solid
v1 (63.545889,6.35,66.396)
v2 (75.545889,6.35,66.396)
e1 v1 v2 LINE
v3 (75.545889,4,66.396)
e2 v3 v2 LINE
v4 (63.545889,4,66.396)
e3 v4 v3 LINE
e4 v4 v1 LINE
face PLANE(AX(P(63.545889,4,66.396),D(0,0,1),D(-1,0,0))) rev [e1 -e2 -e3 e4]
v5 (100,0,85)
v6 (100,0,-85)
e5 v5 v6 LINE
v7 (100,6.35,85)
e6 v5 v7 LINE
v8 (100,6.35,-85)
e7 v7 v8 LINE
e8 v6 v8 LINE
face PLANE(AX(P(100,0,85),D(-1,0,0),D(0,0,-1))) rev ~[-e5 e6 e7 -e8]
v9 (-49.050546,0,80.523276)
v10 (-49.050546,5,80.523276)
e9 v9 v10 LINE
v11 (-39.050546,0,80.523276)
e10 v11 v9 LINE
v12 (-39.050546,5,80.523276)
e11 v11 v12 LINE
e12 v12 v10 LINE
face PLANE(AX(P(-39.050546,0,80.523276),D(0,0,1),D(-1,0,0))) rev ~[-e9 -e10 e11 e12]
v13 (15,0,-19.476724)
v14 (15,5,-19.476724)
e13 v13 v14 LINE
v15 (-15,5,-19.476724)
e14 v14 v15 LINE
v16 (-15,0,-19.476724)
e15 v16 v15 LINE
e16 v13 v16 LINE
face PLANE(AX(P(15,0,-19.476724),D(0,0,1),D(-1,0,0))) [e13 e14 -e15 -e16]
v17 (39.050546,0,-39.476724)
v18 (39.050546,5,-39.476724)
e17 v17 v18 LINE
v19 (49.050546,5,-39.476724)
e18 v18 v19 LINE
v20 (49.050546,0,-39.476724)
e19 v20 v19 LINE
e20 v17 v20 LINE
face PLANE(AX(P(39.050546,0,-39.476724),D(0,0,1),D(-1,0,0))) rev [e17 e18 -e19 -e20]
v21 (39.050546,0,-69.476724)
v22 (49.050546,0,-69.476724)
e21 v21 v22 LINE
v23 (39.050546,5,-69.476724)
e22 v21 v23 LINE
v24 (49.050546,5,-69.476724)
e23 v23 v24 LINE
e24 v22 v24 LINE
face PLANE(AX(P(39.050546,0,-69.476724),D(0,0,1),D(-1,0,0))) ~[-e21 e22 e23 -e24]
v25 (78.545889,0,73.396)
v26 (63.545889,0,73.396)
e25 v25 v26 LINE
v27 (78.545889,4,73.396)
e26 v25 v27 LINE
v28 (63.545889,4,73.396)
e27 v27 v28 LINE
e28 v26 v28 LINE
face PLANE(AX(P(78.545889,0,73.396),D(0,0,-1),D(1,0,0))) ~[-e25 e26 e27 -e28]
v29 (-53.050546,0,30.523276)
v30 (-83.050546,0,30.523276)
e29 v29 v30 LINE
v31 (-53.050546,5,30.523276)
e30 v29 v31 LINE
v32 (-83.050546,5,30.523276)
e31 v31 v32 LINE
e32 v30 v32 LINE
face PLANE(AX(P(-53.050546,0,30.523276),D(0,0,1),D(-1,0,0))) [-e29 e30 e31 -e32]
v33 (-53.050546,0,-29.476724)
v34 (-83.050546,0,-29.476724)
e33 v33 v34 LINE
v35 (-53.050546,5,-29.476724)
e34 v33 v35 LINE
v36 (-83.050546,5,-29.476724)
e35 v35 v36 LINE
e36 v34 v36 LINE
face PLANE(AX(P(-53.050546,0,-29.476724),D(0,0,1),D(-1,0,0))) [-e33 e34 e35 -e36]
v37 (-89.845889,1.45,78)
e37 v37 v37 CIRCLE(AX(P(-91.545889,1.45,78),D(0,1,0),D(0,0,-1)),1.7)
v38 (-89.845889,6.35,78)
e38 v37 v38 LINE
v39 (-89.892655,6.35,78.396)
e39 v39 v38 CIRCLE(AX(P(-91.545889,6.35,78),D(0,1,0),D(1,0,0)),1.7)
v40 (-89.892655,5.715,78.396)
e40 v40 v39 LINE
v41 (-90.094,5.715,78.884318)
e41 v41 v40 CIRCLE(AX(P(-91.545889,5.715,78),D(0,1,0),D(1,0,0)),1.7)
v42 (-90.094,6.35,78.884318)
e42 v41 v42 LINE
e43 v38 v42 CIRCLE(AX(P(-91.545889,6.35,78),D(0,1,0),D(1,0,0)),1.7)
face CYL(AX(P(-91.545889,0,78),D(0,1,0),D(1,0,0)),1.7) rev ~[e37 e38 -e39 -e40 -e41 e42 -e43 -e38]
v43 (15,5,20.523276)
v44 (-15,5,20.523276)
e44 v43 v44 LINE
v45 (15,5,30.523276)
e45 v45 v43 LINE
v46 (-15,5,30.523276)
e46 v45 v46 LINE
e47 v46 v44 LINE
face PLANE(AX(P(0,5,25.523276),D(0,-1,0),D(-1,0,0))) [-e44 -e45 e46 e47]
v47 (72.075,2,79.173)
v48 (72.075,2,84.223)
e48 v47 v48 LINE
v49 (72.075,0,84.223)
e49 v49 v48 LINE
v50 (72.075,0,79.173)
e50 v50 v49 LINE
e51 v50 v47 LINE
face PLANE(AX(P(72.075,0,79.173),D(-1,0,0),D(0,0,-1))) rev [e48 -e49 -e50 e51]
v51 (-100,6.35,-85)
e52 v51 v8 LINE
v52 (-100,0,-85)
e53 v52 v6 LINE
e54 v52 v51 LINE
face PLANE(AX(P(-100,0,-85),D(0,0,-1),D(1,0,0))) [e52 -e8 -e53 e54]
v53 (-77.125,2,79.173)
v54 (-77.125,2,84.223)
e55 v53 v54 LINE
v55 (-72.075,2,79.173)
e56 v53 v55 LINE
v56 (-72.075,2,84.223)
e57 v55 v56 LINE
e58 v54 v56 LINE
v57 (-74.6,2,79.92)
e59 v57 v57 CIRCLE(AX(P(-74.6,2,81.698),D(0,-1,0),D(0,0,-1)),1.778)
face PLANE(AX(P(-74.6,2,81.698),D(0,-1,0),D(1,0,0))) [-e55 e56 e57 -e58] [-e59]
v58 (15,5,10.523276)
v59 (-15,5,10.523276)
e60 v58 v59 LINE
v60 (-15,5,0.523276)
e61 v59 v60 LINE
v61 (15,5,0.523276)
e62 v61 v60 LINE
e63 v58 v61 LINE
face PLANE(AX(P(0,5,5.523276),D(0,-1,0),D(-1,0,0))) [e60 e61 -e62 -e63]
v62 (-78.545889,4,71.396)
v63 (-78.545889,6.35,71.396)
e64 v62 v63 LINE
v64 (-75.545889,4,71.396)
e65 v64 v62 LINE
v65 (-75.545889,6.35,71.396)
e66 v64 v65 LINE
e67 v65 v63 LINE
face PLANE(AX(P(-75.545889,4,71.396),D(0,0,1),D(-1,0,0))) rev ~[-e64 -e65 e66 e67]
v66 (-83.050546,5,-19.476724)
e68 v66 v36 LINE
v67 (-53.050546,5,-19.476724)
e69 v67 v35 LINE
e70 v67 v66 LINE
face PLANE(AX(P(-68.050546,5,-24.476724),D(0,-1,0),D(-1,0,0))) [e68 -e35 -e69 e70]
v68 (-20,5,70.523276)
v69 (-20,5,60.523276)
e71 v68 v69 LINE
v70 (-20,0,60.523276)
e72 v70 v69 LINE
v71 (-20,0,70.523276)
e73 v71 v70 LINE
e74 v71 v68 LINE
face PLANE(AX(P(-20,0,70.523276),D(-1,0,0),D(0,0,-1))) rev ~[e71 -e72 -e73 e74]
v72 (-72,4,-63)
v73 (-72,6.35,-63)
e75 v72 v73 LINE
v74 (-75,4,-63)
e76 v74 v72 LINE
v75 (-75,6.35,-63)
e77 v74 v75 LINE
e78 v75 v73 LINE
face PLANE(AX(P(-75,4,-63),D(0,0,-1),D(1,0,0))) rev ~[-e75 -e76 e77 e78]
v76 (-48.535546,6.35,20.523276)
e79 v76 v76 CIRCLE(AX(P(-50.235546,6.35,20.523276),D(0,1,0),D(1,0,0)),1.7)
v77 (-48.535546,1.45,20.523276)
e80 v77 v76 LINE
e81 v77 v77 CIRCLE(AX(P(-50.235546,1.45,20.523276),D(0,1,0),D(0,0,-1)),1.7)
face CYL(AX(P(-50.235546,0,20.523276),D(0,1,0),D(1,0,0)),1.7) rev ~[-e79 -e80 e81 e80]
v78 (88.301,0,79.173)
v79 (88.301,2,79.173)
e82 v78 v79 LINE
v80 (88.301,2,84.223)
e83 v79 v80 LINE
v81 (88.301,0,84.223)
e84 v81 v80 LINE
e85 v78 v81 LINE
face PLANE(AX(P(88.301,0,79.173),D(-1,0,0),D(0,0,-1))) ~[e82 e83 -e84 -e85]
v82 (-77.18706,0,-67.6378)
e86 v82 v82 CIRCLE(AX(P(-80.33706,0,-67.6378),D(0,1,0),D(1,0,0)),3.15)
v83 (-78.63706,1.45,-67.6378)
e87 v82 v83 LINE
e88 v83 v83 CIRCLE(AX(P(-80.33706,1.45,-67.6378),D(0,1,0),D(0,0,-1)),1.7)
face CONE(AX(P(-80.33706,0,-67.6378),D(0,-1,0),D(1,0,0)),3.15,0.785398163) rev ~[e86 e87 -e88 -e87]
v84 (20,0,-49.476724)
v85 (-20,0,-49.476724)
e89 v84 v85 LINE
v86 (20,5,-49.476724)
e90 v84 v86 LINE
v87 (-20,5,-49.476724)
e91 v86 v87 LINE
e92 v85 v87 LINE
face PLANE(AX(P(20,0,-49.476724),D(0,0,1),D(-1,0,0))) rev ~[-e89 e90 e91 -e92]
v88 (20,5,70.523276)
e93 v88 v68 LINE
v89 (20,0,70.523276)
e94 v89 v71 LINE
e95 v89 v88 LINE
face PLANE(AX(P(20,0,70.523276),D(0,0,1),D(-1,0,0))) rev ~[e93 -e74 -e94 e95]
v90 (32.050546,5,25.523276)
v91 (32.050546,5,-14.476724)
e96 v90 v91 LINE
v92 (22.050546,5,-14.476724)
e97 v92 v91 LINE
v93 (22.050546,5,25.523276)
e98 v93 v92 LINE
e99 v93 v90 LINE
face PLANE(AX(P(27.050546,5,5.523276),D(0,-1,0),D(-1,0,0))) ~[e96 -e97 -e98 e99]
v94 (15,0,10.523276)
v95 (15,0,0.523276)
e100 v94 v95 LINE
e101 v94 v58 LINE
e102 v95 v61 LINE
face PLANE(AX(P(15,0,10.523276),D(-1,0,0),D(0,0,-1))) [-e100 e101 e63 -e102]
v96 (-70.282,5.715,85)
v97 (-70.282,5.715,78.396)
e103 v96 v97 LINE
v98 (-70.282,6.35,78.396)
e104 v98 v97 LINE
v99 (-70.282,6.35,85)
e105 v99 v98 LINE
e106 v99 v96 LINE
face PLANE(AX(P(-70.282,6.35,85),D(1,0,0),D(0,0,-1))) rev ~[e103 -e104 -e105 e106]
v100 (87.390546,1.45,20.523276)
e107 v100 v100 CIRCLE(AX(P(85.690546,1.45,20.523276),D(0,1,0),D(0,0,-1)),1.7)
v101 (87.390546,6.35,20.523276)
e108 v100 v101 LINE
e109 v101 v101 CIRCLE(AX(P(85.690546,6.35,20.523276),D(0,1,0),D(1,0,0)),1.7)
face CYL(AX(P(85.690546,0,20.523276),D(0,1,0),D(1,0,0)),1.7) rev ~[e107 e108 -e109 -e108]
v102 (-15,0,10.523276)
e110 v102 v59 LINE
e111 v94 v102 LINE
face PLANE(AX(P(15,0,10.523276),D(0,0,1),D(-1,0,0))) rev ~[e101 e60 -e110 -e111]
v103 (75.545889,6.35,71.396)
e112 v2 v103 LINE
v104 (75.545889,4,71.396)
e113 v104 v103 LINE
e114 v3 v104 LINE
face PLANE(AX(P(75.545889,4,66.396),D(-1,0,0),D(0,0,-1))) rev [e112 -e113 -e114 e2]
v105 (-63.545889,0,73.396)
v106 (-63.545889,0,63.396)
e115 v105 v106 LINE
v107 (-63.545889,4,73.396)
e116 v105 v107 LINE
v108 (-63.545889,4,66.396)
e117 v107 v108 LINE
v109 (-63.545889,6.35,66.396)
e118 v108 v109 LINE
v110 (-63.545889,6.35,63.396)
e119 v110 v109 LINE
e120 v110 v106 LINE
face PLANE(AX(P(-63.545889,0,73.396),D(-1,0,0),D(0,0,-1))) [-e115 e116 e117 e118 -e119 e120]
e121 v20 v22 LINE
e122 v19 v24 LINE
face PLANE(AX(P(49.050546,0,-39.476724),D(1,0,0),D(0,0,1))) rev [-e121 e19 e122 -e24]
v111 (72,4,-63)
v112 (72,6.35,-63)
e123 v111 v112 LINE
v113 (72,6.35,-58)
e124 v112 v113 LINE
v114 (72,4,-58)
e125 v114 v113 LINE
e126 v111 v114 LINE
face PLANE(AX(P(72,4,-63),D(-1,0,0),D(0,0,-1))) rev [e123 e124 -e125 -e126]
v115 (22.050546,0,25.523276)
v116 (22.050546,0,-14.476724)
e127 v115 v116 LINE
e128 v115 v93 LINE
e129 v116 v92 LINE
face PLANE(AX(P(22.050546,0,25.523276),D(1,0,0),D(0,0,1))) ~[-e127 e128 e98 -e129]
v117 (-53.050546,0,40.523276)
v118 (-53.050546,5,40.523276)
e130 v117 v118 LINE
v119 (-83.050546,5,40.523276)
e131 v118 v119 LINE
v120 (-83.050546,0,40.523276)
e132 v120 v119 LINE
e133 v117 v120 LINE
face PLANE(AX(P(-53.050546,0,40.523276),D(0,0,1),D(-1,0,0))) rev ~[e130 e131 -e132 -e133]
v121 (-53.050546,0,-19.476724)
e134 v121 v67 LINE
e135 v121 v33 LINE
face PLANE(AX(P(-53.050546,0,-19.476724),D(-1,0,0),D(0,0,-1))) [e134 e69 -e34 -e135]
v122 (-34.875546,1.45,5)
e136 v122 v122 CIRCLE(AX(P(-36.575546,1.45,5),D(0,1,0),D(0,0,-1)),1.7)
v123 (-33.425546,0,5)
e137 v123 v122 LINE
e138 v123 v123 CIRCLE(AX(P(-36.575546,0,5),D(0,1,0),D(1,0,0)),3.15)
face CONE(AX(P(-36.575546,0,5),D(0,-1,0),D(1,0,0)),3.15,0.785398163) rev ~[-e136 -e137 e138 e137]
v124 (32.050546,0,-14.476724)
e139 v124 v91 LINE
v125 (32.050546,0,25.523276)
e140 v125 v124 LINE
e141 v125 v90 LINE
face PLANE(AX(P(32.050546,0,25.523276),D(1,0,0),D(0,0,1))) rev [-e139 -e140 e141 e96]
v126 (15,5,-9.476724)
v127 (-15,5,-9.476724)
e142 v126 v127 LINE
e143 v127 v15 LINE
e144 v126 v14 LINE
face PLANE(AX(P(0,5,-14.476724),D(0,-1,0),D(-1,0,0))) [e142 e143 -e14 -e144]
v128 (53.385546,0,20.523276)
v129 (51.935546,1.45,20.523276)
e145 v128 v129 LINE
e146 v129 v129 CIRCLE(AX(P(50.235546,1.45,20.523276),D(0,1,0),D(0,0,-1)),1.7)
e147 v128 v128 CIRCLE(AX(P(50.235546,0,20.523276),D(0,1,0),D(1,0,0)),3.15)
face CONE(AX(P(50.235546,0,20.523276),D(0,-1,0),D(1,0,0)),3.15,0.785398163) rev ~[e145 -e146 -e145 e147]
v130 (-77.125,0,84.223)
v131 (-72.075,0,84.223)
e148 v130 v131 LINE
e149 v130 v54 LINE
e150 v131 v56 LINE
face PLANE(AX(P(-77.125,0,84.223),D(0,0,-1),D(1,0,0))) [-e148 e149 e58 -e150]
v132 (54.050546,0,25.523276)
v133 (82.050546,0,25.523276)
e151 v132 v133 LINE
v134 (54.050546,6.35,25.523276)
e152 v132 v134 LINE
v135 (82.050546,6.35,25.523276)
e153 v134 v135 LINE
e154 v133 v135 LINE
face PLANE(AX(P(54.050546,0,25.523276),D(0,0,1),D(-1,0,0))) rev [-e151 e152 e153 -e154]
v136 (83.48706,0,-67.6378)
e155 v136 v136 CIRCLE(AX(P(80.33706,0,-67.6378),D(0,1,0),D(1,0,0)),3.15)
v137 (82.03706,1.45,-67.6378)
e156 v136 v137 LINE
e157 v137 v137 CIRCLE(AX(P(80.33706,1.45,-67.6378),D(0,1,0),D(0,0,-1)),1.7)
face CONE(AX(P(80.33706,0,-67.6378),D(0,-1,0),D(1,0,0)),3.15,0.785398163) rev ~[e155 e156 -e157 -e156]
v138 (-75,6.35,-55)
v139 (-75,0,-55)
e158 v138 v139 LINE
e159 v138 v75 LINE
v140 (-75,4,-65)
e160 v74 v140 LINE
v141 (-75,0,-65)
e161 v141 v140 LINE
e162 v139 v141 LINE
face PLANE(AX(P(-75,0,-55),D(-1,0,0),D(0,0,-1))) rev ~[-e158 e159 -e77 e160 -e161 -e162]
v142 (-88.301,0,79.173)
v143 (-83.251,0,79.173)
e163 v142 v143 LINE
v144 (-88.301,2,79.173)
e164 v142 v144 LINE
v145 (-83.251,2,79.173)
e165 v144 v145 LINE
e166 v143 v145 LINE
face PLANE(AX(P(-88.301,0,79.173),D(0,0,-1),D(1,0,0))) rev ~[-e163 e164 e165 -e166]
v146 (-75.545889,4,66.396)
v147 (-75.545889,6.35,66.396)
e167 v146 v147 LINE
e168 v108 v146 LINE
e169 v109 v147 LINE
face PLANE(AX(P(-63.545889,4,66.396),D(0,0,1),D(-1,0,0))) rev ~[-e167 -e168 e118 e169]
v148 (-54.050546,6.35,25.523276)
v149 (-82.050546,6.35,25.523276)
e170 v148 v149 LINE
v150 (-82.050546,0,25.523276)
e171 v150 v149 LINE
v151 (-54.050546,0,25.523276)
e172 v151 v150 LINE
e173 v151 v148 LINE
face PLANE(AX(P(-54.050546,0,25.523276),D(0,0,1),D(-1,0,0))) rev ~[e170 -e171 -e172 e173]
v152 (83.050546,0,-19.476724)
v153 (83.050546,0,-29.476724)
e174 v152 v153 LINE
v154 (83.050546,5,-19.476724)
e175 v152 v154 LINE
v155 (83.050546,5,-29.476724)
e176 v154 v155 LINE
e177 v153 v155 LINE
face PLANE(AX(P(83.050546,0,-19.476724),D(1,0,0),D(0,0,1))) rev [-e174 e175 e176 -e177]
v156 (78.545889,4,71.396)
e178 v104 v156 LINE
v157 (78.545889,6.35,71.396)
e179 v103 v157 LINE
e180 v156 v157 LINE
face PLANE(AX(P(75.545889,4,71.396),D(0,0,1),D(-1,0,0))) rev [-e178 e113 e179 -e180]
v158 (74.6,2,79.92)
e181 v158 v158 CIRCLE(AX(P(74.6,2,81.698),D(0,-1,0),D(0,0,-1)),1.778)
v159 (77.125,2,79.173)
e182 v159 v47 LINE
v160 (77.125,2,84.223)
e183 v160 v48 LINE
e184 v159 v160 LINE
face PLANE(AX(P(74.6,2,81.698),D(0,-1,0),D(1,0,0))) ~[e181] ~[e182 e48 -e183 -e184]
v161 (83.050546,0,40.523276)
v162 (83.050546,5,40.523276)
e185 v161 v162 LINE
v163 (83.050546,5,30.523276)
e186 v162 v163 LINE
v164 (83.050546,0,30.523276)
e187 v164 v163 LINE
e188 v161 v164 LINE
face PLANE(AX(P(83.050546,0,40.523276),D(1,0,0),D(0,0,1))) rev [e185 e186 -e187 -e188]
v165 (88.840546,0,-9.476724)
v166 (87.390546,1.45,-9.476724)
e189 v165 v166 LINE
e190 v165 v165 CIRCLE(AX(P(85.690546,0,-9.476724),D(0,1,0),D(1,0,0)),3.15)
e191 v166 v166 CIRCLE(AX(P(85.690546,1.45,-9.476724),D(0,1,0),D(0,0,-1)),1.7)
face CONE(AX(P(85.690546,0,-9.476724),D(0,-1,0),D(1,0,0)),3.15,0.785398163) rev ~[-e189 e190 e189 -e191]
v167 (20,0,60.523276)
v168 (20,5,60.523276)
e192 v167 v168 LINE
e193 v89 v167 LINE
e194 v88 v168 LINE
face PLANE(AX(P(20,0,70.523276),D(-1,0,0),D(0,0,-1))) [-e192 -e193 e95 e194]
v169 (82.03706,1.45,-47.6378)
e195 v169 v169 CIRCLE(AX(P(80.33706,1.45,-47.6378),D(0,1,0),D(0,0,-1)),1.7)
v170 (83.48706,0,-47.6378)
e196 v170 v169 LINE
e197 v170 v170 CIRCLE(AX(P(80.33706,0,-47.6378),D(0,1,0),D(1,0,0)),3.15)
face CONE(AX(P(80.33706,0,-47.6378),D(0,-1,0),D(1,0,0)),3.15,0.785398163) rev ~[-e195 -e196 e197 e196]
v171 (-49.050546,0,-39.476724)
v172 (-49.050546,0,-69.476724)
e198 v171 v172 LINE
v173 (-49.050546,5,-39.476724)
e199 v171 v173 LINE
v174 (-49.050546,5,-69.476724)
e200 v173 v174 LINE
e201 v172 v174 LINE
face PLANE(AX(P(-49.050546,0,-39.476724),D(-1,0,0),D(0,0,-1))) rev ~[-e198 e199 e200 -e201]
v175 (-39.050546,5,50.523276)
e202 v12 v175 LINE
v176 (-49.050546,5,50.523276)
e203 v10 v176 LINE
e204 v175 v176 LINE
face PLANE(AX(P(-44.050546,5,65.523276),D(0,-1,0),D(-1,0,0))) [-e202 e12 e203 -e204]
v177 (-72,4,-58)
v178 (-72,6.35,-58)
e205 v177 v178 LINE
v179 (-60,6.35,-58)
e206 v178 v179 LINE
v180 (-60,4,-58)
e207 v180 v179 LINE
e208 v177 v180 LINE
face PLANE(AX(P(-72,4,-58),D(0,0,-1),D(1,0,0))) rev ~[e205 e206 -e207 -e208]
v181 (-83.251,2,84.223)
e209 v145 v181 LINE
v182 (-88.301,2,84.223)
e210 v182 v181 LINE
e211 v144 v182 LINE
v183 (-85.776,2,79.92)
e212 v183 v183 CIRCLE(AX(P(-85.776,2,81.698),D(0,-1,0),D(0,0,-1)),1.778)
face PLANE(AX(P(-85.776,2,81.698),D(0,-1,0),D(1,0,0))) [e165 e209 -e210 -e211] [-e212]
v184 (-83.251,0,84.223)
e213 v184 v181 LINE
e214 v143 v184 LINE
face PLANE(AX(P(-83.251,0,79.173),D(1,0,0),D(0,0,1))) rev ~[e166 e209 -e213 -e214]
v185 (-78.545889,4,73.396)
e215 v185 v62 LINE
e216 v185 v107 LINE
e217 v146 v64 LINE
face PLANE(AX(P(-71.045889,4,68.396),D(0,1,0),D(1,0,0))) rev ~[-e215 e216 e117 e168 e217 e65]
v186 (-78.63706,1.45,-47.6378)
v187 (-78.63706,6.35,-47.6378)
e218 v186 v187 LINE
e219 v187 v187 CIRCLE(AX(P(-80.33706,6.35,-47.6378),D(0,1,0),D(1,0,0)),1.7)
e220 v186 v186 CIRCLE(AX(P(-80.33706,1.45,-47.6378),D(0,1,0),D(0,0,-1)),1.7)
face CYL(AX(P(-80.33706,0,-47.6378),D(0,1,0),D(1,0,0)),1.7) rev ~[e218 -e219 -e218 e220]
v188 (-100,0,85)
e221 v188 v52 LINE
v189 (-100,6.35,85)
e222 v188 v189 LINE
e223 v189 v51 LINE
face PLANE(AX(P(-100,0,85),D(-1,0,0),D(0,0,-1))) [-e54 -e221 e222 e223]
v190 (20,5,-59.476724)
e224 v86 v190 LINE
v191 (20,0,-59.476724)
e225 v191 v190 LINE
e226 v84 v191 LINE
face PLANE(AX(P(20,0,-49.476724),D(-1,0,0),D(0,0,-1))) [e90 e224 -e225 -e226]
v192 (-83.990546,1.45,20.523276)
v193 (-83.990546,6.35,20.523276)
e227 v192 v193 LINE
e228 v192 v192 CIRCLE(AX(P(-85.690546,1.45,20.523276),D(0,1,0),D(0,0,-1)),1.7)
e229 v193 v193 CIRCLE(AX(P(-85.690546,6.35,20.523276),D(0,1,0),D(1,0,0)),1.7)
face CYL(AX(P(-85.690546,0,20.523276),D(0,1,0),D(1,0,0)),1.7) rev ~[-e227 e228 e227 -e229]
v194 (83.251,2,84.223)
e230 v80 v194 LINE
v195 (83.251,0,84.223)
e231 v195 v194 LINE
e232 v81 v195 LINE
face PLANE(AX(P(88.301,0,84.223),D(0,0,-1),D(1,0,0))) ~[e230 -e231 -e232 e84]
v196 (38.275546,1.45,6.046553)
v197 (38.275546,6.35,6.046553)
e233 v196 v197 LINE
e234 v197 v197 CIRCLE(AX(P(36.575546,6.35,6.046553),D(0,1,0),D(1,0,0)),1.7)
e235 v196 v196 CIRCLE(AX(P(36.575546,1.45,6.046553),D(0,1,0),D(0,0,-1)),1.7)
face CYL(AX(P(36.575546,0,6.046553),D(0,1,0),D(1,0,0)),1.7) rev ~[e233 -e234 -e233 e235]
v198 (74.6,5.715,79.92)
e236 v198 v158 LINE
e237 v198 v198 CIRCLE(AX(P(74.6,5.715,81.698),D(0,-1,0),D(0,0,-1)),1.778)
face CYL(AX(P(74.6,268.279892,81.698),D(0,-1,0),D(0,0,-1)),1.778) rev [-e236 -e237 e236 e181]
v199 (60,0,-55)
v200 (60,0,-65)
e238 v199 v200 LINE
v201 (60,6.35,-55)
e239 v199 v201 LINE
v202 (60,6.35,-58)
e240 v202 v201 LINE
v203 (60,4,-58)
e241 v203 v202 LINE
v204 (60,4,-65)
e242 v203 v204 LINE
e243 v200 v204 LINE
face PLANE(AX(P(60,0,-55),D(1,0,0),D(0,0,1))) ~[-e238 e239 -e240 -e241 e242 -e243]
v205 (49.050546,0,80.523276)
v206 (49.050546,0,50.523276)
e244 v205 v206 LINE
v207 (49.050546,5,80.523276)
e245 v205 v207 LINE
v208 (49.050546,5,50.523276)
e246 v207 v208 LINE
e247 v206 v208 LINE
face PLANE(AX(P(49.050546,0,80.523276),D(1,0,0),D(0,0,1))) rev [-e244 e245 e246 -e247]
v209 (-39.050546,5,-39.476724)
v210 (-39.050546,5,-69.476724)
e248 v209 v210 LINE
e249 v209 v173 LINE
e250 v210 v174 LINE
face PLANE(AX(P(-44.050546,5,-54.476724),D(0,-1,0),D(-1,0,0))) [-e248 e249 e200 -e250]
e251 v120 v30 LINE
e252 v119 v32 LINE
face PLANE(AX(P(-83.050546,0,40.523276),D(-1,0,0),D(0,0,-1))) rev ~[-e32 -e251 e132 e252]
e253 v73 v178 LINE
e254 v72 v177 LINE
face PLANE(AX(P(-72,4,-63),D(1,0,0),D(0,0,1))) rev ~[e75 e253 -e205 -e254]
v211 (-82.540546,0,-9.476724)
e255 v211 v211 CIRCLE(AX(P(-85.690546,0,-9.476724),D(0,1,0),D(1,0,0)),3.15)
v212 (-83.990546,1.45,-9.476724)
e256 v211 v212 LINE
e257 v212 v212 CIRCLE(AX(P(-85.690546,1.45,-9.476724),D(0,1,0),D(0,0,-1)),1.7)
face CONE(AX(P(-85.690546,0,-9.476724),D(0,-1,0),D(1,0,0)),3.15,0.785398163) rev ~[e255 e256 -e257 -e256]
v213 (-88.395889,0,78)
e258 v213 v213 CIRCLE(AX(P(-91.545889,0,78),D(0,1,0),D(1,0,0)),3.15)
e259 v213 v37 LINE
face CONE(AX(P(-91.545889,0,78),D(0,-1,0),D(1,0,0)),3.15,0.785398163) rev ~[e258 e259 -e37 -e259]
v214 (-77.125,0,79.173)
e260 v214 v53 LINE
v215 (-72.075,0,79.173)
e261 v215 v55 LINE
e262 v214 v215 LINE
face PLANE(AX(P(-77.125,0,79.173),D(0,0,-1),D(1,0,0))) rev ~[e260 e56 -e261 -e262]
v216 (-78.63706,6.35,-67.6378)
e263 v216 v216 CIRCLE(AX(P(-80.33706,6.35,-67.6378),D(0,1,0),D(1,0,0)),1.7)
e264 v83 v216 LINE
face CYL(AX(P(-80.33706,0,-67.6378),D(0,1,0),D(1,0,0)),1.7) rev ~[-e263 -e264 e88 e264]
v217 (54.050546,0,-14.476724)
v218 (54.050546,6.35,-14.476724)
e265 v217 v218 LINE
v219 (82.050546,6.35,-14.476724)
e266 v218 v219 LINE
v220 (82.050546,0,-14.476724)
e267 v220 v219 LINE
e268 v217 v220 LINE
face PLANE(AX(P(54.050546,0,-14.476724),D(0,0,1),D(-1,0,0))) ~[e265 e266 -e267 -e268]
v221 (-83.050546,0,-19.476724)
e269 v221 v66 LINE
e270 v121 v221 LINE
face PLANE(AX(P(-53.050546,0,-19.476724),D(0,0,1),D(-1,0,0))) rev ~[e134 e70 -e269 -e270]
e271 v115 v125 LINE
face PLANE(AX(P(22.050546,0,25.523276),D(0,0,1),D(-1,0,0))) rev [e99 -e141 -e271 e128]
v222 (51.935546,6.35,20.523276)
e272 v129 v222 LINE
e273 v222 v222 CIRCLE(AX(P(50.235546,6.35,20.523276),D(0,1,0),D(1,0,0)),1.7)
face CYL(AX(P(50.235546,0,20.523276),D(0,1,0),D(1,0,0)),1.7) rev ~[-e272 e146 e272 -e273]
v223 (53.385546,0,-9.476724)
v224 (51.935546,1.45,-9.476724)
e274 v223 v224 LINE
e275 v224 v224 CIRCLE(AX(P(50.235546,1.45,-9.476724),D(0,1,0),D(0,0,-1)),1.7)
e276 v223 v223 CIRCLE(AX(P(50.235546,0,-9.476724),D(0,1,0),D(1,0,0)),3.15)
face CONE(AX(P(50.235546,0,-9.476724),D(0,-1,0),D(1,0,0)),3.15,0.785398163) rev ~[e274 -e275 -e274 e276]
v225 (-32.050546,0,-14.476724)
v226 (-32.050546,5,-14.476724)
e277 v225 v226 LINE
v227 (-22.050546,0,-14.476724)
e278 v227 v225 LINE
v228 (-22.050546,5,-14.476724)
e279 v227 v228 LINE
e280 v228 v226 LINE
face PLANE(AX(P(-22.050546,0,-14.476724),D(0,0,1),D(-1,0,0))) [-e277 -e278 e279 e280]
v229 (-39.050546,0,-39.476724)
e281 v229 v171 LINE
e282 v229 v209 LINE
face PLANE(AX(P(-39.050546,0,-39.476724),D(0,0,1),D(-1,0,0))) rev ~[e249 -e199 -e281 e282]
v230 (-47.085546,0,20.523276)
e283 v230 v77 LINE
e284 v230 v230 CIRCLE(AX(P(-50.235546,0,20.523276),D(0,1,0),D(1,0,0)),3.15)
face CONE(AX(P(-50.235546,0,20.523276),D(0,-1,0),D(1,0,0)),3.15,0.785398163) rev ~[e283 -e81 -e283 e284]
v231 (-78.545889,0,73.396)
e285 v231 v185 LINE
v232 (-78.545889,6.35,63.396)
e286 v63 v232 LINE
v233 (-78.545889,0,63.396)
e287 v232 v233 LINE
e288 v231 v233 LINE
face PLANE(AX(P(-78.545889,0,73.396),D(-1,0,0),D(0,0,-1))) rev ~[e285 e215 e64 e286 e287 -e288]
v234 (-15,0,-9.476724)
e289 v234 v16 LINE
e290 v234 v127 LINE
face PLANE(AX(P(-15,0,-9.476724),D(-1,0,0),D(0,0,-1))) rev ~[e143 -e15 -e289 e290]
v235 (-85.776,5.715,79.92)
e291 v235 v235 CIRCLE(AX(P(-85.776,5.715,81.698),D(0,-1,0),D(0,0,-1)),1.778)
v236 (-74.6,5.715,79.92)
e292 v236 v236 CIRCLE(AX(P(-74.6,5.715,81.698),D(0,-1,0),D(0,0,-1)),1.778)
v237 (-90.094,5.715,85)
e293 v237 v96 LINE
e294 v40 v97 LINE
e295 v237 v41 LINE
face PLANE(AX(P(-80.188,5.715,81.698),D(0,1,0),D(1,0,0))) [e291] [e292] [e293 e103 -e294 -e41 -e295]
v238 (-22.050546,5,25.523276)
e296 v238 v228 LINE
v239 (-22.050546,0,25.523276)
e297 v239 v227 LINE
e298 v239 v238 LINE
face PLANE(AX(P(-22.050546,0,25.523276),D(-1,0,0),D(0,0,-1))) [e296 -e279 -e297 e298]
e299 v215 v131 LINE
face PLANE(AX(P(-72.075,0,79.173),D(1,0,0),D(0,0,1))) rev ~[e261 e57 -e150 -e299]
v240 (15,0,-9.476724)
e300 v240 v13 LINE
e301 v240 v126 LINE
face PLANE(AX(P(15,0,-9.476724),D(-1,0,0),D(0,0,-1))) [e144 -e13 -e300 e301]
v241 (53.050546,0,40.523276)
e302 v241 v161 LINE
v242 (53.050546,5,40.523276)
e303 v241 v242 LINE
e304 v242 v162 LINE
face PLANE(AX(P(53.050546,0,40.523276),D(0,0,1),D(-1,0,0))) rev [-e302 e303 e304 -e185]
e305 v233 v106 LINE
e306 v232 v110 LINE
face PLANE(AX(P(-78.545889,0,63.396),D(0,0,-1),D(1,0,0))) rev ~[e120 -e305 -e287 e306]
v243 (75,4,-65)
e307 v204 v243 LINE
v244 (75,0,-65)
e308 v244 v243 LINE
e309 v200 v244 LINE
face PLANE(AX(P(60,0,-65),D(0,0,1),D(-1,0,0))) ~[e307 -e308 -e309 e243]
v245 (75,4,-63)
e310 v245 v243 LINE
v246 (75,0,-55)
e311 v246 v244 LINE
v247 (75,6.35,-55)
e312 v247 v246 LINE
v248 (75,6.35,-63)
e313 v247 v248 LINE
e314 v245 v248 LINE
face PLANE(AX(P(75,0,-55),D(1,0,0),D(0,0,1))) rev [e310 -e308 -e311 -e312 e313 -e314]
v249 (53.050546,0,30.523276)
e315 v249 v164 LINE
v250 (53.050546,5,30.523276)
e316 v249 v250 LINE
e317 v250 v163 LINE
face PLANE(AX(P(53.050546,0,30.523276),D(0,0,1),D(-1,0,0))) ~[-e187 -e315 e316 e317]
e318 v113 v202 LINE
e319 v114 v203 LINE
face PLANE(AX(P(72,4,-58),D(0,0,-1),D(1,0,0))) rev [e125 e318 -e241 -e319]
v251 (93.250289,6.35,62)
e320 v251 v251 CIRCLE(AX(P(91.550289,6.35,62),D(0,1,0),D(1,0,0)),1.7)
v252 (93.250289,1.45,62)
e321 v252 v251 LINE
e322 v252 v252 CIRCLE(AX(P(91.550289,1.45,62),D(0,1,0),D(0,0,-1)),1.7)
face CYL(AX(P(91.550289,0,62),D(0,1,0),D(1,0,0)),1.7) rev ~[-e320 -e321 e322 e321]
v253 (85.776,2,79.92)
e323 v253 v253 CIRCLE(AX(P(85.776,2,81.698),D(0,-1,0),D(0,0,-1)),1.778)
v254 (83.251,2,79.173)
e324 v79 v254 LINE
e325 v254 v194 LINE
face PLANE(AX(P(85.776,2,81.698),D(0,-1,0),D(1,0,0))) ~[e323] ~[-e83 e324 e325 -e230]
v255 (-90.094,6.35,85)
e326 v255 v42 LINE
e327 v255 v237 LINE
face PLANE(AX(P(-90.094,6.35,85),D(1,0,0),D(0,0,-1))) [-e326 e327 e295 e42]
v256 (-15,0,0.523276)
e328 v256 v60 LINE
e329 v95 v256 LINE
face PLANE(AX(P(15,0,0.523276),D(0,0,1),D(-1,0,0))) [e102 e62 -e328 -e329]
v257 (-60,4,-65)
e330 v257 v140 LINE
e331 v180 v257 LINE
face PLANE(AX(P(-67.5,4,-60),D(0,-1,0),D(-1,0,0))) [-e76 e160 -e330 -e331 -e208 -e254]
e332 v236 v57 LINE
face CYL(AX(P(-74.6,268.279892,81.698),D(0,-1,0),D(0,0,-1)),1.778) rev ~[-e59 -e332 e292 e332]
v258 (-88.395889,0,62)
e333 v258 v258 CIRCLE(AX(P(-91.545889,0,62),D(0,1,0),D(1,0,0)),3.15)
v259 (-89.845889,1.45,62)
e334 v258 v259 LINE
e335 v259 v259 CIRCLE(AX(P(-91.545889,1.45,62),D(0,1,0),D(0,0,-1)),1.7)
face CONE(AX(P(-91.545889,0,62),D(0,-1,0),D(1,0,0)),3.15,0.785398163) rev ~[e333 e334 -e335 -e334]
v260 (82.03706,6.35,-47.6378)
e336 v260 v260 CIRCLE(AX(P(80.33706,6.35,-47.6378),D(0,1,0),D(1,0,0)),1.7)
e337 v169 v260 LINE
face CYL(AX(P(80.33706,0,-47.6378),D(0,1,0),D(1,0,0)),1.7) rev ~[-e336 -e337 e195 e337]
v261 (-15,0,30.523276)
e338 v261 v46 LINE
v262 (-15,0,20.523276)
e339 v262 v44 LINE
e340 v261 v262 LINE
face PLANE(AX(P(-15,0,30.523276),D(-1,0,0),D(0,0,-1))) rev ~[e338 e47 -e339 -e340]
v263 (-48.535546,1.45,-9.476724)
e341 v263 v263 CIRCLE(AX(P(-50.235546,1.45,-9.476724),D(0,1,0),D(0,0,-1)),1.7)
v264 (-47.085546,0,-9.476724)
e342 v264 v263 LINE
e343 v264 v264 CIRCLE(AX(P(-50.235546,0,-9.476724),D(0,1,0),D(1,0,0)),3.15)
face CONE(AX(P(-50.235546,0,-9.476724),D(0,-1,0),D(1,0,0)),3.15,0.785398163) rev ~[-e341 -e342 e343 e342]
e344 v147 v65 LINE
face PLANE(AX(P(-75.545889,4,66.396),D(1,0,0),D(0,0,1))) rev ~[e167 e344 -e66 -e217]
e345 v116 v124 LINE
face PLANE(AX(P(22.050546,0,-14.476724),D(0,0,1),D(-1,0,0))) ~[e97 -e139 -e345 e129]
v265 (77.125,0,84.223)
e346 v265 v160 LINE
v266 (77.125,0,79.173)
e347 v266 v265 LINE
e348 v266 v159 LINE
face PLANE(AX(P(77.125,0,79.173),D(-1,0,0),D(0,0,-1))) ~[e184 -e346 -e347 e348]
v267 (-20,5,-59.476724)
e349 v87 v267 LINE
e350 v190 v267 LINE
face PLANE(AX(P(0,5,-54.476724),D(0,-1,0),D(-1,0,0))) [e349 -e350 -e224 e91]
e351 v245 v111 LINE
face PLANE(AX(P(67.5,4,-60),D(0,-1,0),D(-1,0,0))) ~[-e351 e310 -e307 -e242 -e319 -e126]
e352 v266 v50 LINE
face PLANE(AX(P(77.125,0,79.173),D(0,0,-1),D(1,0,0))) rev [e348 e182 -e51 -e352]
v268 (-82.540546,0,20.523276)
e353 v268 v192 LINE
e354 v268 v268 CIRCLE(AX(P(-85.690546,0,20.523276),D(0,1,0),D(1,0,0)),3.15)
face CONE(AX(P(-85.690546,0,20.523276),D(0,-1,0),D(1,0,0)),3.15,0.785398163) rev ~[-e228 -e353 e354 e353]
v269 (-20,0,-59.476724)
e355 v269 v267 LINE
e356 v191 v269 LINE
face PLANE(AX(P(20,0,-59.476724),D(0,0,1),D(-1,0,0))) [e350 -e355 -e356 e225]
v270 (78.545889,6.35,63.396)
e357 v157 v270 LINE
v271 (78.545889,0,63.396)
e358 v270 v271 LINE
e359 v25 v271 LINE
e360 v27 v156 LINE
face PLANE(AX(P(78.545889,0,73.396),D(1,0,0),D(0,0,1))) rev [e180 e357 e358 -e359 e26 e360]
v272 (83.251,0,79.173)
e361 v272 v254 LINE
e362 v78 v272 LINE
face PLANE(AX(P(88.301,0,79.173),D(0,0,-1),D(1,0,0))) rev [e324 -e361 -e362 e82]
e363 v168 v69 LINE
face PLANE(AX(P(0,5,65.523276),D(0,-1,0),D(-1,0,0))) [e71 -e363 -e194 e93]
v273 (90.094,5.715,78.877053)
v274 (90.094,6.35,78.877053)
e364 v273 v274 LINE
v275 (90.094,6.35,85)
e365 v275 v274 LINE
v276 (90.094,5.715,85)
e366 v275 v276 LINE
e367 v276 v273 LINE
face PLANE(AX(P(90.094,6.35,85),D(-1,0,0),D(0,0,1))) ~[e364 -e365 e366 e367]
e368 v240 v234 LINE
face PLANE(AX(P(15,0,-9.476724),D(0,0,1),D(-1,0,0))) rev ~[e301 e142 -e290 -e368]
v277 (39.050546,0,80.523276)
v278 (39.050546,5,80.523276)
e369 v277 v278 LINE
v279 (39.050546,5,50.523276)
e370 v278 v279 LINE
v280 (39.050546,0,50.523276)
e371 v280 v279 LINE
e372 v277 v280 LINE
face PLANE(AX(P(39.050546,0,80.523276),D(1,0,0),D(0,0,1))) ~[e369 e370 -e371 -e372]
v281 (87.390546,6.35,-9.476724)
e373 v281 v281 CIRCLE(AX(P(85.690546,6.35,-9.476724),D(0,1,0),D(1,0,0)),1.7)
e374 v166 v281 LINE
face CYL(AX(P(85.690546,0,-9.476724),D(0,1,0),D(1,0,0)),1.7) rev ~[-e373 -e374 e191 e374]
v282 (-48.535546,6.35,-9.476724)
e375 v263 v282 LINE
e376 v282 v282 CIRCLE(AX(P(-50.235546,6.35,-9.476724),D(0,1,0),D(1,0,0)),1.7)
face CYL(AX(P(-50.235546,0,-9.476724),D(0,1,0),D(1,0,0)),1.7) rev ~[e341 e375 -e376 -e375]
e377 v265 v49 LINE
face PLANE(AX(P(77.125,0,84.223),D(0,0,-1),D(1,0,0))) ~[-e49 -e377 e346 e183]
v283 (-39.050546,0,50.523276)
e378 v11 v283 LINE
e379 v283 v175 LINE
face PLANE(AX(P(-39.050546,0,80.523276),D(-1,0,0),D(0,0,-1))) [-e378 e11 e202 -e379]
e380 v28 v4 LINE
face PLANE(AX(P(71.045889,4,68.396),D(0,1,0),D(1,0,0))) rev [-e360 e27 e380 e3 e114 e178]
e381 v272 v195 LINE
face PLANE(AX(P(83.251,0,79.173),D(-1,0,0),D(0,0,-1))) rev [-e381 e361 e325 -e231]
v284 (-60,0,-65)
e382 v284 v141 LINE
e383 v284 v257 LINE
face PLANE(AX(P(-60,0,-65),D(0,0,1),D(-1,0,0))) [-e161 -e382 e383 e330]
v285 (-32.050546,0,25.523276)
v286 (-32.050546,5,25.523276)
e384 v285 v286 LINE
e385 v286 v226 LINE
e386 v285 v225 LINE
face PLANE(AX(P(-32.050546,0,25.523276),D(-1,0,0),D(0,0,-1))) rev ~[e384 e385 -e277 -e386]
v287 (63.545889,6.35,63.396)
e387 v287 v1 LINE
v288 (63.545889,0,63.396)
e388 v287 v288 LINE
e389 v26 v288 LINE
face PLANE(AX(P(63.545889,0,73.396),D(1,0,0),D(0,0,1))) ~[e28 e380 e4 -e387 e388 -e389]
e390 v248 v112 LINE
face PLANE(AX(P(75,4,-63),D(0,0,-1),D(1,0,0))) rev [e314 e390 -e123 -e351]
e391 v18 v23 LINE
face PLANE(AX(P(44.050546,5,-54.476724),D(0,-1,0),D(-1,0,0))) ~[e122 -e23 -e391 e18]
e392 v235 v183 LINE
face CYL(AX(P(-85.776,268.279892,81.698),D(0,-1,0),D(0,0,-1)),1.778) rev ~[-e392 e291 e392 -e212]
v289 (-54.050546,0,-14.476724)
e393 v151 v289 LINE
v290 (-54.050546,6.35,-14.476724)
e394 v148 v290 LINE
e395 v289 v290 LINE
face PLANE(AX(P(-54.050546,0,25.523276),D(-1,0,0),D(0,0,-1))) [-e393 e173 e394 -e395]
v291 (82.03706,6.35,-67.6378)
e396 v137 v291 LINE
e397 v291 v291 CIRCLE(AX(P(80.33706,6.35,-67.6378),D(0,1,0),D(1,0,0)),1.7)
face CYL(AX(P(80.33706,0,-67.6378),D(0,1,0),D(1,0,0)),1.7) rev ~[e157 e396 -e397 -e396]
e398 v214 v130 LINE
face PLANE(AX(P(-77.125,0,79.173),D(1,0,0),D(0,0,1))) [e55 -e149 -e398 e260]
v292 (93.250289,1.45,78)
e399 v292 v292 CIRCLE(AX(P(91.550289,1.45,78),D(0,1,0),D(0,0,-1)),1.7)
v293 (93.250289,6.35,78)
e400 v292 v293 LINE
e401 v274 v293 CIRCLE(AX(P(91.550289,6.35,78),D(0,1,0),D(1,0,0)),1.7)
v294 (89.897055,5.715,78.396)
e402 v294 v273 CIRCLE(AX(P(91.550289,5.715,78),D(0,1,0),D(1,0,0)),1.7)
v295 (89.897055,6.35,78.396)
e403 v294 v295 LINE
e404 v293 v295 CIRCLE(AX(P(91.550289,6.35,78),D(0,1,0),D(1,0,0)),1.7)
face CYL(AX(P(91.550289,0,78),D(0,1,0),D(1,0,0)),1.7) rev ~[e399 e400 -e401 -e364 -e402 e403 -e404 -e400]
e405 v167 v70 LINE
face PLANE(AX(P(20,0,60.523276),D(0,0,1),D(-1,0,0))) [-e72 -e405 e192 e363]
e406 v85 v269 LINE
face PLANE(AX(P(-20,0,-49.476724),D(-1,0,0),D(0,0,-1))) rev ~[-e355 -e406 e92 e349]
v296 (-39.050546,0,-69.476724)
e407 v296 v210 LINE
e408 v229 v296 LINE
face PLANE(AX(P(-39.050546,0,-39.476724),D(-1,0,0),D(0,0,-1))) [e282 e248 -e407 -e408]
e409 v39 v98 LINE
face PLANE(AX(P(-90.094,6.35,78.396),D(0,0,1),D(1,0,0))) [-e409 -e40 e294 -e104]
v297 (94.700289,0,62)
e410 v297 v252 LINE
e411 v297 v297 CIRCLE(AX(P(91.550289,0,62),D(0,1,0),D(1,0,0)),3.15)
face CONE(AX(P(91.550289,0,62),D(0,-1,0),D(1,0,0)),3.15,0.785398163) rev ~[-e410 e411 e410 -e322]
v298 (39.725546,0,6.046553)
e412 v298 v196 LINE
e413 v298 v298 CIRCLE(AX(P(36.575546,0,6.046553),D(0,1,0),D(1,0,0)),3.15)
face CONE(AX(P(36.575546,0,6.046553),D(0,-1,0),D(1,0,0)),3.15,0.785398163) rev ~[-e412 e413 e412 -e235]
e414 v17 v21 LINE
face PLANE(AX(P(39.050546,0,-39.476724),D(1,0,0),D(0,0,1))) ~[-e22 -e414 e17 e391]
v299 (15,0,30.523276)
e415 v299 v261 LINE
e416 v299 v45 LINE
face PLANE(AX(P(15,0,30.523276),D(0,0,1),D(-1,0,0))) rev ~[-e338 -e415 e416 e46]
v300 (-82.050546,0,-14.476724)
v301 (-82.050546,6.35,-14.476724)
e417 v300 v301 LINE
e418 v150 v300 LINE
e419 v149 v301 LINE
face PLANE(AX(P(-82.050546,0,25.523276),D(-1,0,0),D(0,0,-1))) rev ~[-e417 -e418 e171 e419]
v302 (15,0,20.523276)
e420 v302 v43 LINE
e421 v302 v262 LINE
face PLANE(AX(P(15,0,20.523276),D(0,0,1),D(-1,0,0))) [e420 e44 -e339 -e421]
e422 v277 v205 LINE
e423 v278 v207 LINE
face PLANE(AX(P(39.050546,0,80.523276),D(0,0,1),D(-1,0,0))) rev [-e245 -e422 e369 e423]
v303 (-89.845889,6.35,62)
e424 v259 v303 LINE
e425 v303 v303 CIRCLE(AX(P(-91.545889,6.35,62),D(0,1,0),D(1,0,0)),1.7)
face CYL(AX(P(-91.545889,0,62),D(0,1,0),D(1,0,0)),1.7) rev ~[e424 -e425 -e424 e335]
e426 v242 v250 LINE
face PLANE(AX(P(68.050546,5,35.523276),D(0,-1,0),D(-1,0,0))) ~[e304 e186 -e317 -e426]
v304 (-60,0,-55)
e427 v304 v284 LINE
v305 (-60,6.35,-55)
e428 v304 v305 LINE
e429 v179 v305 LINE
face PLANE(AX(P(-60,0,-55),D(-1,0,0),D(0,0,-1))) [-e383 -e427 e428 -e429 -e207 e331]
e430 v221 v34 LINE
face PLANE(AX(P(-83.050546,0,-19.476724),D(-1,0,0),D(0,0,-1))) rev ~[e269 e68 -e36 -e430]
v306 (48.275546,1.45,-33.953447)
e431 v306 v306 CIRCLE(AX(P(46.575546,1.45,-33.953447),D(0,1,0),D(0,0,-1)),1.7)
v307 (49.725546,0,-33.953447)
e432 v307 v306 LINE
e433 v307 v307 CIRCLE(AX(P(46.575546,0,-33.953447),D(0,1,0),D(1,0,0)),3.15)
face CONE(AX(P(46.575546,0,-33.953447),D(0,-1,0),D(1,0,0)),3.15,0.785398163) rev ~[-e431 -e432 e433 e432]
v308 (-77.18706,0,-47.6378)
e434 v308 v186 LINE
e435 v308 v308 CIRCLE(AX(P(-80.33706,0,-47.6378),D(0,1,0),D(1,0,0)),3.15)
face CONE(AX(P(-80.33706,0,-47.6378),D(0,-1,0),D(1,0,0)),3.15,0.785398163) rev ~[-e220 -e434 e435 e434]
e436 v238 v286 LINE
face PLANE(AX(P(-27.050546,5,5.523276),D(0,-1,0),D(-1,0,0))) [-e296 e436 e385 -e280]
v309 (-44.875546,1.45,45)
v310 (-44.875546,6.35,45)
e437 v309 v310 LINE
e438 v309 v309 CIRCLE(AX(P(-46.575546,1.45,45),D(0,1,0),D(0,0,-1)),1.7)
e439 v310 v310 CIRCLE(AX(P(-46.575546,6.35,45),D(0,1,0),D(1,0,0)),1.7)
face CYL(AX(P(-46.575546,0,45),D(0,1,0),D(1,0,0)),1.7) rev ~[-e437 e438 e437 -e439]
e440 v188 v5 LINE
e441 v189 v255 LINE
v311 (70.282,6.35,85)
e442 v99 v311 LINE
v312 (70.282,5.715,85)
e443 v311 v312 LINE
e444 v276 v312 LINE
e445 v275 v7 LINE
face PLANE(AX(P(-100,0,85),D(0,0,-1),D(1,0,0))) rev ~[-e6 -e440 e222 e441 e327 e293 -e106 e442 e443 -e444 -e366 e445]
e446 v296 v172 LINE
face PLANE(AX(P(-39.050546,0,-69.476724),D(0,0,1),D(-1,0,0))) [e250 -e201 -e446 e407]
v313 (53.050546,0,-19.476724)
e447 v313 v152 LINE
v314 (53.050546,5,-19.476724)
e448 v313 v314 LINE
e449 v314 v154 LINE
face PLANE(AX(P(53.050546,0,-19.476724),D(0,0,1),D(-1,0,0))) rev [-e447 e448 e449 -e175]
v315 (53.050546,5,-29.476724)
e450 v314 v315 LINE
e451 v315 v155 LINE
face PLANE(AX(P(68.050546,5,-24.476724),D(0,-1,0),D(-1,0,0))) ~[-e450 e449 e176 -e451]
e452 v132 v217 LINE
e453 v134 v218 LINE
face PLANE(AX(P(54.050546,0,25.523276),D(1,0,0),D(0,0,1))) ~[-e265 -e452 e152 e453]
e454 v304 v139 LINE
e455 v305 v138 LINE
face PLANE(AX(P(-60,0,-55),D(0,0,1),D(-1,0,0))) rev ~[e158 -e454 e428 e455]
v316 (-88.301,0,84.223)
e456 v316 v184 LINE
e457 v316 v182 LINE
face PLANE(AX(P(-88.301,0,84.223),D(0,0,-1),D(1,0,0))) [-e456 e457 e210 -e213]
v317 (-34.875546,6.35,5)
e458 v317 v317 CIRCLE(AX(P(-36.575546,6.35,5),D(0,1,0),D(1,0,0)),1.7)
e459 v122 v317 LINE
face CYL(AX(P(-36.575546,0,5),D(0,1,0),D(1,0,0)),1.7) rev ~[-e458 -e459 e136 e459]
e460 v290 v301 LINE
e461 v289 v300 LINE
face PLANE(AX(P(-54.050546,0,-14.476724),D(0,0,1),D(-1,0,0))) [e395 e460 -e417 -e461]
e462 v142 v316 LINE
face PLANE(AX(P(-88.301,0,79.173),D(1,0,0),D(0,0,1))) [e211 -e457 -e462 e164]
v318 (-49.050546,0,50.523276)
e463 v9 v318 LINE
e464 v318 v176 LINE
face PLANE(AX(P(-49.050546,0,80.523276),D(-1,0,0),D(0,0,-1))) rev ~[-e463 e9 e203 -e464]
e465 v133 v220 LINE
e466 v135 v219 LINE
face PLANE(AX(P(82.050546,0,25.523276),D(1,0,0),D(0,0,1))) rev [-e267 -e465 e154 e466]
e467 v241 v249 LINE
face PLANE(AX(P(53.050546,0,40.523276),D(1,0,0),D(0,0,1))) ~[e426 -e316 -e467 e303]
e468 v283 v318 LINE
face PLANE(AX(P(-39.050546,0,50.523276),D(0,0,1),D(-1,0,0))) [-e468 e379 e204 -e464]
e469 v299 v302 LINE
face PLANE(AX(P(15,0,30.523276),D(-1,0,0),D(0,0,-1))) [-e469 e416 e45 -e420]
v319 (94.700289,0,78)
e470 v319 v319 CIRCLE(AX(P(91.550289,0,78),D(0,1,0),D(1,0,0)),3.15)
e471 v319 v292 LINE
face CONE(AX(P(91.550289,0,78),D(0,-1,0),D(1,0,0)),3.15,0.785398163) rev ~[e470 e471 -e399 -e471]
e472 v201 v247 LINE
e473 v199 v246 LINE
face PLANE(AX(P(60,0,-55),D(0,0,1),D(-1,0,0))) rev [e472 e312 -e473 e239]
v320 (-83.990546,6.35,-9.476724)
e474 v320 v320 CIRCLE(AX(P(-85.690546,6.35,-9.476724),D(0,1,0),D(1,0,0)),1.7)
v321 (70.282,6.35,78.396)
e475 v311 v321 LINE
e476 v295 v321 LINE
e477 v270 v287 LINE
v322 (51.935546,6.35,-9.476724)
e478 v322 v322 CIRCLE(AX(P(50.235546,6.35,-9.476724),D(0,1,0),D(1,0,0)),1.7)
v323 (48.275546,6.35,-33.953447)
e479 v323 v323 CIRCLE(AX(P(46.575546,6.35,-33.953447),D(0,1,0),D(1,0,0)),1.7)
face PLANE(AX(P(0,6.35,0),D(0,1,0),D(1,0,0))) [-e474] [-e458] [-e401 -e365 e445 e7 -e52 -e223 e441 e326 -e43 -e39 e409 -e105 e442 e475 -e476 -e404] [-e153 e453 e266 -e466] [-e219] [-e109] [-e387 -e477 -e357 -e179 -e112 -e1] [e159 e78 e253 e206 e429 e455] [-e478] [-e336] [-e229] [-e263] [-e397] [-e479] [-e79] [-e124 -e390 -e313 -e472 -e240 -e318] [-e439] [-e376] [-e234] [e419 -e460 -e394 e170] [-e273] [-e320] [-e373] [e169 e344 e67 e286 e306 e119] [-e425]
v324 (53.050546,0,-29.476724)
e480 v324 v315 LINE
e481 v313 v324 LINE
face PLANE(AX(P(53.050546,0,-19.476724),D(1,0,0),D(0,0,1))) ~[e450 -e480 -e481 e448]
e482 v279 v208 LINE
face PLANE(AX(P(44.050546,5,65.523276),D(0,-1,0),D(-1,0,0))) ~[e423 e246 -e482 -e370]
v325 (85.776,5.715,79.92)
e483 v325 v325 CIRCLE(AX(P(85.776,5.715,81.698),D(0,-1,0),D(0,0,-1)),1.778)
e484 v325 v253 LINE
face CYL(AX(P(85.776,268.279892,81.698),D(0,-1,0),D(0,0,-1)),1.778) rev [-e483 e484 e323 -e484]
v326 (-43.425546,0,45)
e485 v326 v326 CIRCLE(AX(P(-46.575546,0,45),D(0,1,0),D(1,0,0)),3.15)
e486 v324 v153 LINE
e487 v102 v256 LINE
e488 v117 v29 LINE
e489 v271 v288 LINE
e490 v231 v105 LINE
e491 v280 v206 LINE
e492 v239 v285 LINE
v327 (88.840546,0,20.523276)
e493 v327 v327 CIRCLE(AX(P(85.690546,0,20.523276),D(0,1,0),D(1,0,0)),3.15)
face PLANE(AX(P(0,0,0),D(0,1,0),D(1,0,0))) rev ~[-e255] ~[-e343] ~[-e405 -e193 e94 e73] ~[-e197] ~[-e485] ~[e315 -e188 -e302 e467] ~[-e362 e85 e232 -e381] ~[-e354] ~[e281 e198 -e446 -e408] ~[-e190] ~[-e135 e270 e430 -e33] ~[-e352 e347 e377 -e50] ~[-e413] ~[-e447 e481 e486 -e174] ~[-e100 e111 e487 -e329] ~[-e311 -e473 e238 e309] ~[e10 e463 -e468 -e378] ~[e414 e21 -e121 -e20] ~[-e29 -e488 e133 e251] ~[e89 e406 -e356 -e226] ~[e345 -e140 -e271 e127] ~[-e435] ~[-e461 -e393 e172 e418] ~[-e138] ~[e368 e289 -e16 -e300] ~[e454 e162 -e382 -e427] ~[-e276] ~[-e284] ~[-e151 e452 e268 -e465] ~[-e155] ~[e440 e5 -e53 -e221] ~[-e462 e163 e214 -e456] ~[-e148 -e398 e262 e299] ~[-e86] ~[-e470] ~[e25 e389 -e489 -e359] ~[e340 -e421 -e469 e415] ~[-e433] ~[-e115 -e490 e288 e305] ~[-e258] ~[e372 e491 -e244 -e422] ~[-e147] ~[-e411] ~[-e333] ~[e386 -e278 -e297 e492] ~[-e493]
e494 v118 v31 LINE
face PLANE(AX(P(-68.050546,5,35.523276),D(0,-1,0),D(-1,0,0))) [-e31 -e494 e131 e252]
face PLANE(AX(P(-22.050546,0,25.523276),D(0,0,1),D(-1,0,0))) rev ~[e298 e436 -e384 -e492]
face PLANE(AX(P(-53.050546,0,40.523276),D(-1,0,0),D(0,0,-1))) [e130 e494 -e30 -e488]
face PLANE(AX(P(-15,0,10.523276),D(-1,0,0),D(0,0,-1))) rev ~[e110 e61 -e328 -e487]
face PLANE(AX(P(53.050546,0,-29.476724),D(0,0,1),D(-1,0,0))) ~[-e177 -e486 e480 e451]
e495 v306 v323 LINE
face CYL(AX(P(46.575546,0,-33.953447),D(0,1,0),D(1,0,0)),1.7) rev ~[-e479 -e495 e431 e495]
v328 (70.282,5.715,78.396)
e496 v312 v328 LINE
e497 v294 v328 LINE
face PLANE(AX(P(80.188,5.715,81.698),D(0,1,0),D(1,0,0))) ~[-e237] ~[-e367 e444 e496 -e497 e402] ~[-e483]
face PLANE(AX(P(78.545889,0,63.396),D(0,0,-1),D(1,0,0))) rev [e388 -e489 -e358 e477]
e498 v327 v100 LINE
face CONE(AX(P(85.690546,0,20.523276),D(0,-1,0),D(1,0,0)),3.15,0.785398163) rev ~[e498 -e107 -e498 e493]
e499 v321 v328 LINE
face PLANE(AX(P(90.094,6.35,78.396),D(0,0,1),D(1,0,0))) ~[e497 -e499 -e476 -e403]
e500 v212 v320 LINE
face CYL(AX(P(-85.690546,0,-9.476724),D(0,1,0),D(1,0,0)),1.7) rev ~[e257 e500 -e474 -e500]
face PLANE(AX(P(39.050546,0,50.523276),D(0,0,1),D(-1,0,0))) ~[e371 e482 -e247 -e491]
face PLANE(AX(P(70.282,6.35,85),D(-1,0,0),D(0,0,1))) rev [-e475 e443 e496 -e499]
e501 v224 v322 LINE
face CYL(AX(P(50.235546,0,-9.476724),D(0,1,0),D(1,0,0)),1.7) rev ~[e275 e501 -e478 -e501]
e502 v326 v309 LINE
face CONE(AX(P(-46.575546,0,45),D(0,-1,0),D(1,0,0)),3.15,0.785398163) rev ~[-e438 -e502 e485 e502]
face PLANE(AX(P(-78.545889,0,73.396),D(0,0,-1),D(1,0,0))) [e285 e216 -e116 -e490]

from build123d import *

# Parameters (mm, degrees)
SKETCH1_W                                       = 200
SKETCH1_H                                       = 170
F_1_4_STEEL_PLATE_DEPTH                         = 6.35
SKETCH2_W                                       = 19.812
SKETCH2_H                                       = 6.604
BLADEHINGECUT_DEPTH                             = 0.635
BLADEHINGEHOLE_D                                = 3.556
SKETCH5_W                                       = 5.05
SKETCH5_H                                       = 5.05
BLADENUTCUT_DEPTH                               = 2
SKETCH6_W                                       = 28
SKETCH6_H                                       = 40
CUT_EXTRUDE1_DEPTH                              = 6.35
SKETCH7_W                                       = 30
SKETCH7_H                                       = 10
SKETCH7_W_2                                     = 10
SKETCH7_H_2                                     = 40
SKETCH7_H_3                                     = 30
SKETCH7_W_3                                     = 40
CUT_EXTRUDE2_DEPTH                              = 5
CUT_EXTRUDE3_START                              = -6.35
SKETCH8_W                                       = 15
SKETCH8_H                                       = 10
CUT_EXTRUDE3_DEPTH                              = 4
CUT_EXTRUDE4_DEPTH                              = 2.35
SKETCH10_W                                      = 15
SKETCH10_H                                      = 10
CUT_EXTRUDE5_DEPTH                              = 4
CUT_EXTRUDE6_REACH                              = 133.305
CSK_FOR_M3_FLAT_HEAD_MACHINE_SCREW1_D           = 3.4
CSK_FOR_M3_FLAT_HEAD_MACHINE_SCREW1_DEPTH       = 14
CSK_FOR_M3_FLAT_HEAD_MACHINE_SCREW1_CSINK_D     = 6.3
CSK_FOR_M3_FLAT_HEAD_MACHINE_SCREW1_CSINK_ANGLE = 90


with BuildPart() as part:
    # Sketch1 → 1/4" Steel Plate (new body)
    with BuildSketch(Plane(origin=(0, 0, 0), x_dir=(1, 0, 0), z_dir=(0, 1, 0))):
        Rectangle(SKETCH1_W, SKETCH1_H)
    extrude(amount=F_1_4_STEEL_PLATE_DEPTH)

    # Sketch2 → BladeHingeCut (cut)
    with BuildSketch(Plane(origin=(0, 6.35, 0), x_dir=(1, 0, 0), z_dir=(0, 1, 0))):
        with Locations((-80.188, -81.698)):
            Rectangle(SKETCH2_W, SKETCH2_H)
    bladehingecut = extrude(amount=-BLADEHINGECUT_DEPTH, mode=Mode.SUBTRACT)

    # BladeHingeHole (through all)
    with Locations(Plane(origin=(-74.6, 5.715, 81.698), x_dir=(0, 0, 1), z_dir=(0, 1, 0))):
        with Locations((0, 0), (0, -11.176)):
            bladehingehole = Hole(BLADEHINGEHOLE_D / 2)

    # Sketch5 → BladeNutCut (cut)
    with BuildSketch(Plane.XZ):
        with Locations((-85.776, 81.698)):
            Rectangle(SKETCH5_W, SKETCH5_H)
        with Locations((-74.6, 81.698)):
            Rectangle(SKETCH5_W, SKETCH5_H)
    bladenutcut = extrude(amount=-BLADENUTCUT_DEPTH, mode=Mode.SUBTRACT)

    # BladeHingeMirror: BladeHingeCut, BladeHingeHole, BladeNutCut across plane
    add(bladehingecut.mirror(Plane.ZY), mode=Mode.SUBTRACT)
    add(bladehingehole.mirror(Plane.ZY), mode=Mode.SUBTRACT)
    add(bladenutcut.mirror(Plane.ZY), mode=Mode.SUBTRACT)

    # Sketch6 → Cut-Extrude1 (cut)
    with BuildSketch(Plane(origin=(0, 0, 0), x_dir=(-1, 0, 0), z_dir=(0, -1, 0))):
        with Locations((68.050545531, -5.523276363)):
            Rectangle(SKETCH6_W, SKETCH6_H)
    cut_extrude1 = extrude(amount=-CUT_EXTRUDE1_DEPTH, mode=Mode.SUBTRACT)

    # Sketch7 → Cut-Extrude2 (cut)
    with BuildSketch(Plane(origin=(0, 0, 0), x_dir=(-1, 0, 0), z_dir=(0, -1, 0))):
        with Locations((68.050545531, -35.523276363)):
            Rectangle(SKETCH7_W, SKETCH7_H)
        with Locations((68.050545531, 24.476723637)):
            Rectangle(SKETCH7_W, SKETCH7_H)
        with Locations((27.050545531, -5.523276363)):
            Rectangle(SKETCH7_W_2, SKETCH7_H_2)
        with Locations((0, -25.523276363)):
            Rectangle(SKETCH7_W, SKETCH7_H)
        with Locations((0, -5.523276363)):
            Rectangle(SKETCH7_W, SKETCH7_H)
        with Locations((0, 14.476723637)):
            Rectangle(SKETCH7_W, SKETCH7_H)
        with Locations((44.050545531, -65.523276363)):
            Rectangle(SKETCH7_W_2, SKETCH7_H_3)
        with Locations((0, -65.523276363)):
            Rectangle(SKETCH7_W_3, SKETCH7_H)
        with Locations((44.050545531, 54.476723637)):
            Rectangle(SKETCH7_W_2, SKETCH7_H_3)
        with Locations((0, 54.476723637)):
            Rectangle(SKETCH7_W_3, SKETCH7_H)
    cut_extrude2 = extrude(amount=-CUT_EXTRUDE2_DEPTH, mode=Mode.SUBTRACT)

    # Sketch8 → Cut-Extrude3 (cut)
    with BuildSketch(Plane(origin=(0, 6.35, 0), x_dir=(1, 0, 0), z_dir=(0, 1, 0)).offset(CUT_EXTRUDE3_START)):
        with Locations((-71.045889297, -68.396)):
            Rectangle(SKETCH8_W, SKETCH8_H)
    cut_extrude3 = extrude(amount=CUT_EXTRUDE3_DEPTH, mode=Mode.SUBTRACT)

    # Sketch9 → Cut-Extrude4 (cut)
    with BuildSketch(Plane.XZ.offset(-4)):
        Polygon((-78.545889297, 63.396), (-63.545889297, 63.396), (-63.545889297, 66.396), (-75.545889297, 66.396), (-75.545889297, 71.396), (-78.545889297, 71.396), align=None)
    cut_extrude4 = extrude(amount=-CUT_EXTRUDE4_DEPTH, mode=Mode.SUBTRACT)

    # Sketch10 → Cut-Extrude5 (cut)
    with BuildSketch(Plane(origin=(0, 0, 0), x_dir=(-1, 0, 0), z_dir=(0, -1, 0))):
        with Locations((67.5, 60)):
            Rectangle(SKETCH10_W, SKETCH10_H)
    cut_extrude5 = extrude(amount=-CUT_EXTRUDE5_DEPTH, mode=Mode.SUBTRACT)

    # Sketch11 → Cut-Extrude6 (cut, up to next)
    with BuildSketch(Plane.XZ.offset(-4), mode=Mode.PRIVATE) as cut_extrude6_sk1:
        Polygon((-60, -55), (-75, -55), (-75, -63), (-72, -63), (-72, -58), (-60, -58), align=None)
    cut_extrude6_tool1 = extrude(cut_extrude6_sk1.sketch, amount=-CUT_EXTRUDE6_REACH, mode=Mode.PRIVATE) & part.part
    cut_extrude6 = cut_extrude6_tool1.solids().sort_by_distance((-69, 4, -57.5))[0]
    add(cut_extrude6, mode=Mode.SUBTRACT)

    # Mirror2: Cut-Extrude1, Cut-Extrude2, Cut-Extrude3, Cut-Extrude4, Cut-Extrude5, Cut-Extrude6 across plane
    add(cut_extrude1.mirror(Plane.ZY), mode=Mode.SUBTRACT)
    add(cut_extrude2.mirror(Plane.ZY), mode=Mode.SUBTRACT)
    add(cut_extrude3.mirror(Plane.ZY), mode=Mode.SUBTRACT)
    add(cut_extrude4.mirror(Plane.ZY), mode=Mode.SUBTRACT)
    add(cut_extrude5.mirror(Plane.ZY), mode=Mode.SUBTRACT)
    add(cut_extrude6.mirror(Plane.ZY), mode=Mode.SUBTRACT)

    # CSK for M3 Flat Head Machine Screw1
    with Locations(Plane(origin=(0, 0, 0), x_dir=(-1, 0, 0), z_dir=(0, -1, 0))):
        with Locations((-91.550289297, -78), (-91.550289297, -62), (-80.337059977, 47.6378), (-80.337059977, 67.6378), (-36.575545542, -6.046552726), (-46.575545542, 33.953447274), (36.575545531, -5), (46.575545531, -45), (91.545889297, -62), (91.545889297, -78), (80.337059966, 47.6378), (80.337059966, 67.6378), (-85.690545542, -20.523276363), (-85.690545542, 9.476723637), (-50.235545542, -20.523276363), (-50.235545542, 9.476723637), (50.235545531, -20.523276363), (85.690545531, -20.523276363), (85.690545531, 9.476723637), (50.235545531, 9.476723637)):
            CounterSinkHole(CSK_FOR_M3_FLAT_HEAD_MACHINE_SCREW1_D / 2, CSK_FOR_M3_FLAT_HEAD_MACHINE_SCREW1_CSINK_D / 2, depth=CSK_FOR_M3_FLAT_HEAD_MACHINE_SCREW1_DEPTH, counter_sink_angle=CSK_FOR_M3_FLAT_HEAD_MACHINE_SCREW1_CSINK_ANGLE)


solid = part.part
